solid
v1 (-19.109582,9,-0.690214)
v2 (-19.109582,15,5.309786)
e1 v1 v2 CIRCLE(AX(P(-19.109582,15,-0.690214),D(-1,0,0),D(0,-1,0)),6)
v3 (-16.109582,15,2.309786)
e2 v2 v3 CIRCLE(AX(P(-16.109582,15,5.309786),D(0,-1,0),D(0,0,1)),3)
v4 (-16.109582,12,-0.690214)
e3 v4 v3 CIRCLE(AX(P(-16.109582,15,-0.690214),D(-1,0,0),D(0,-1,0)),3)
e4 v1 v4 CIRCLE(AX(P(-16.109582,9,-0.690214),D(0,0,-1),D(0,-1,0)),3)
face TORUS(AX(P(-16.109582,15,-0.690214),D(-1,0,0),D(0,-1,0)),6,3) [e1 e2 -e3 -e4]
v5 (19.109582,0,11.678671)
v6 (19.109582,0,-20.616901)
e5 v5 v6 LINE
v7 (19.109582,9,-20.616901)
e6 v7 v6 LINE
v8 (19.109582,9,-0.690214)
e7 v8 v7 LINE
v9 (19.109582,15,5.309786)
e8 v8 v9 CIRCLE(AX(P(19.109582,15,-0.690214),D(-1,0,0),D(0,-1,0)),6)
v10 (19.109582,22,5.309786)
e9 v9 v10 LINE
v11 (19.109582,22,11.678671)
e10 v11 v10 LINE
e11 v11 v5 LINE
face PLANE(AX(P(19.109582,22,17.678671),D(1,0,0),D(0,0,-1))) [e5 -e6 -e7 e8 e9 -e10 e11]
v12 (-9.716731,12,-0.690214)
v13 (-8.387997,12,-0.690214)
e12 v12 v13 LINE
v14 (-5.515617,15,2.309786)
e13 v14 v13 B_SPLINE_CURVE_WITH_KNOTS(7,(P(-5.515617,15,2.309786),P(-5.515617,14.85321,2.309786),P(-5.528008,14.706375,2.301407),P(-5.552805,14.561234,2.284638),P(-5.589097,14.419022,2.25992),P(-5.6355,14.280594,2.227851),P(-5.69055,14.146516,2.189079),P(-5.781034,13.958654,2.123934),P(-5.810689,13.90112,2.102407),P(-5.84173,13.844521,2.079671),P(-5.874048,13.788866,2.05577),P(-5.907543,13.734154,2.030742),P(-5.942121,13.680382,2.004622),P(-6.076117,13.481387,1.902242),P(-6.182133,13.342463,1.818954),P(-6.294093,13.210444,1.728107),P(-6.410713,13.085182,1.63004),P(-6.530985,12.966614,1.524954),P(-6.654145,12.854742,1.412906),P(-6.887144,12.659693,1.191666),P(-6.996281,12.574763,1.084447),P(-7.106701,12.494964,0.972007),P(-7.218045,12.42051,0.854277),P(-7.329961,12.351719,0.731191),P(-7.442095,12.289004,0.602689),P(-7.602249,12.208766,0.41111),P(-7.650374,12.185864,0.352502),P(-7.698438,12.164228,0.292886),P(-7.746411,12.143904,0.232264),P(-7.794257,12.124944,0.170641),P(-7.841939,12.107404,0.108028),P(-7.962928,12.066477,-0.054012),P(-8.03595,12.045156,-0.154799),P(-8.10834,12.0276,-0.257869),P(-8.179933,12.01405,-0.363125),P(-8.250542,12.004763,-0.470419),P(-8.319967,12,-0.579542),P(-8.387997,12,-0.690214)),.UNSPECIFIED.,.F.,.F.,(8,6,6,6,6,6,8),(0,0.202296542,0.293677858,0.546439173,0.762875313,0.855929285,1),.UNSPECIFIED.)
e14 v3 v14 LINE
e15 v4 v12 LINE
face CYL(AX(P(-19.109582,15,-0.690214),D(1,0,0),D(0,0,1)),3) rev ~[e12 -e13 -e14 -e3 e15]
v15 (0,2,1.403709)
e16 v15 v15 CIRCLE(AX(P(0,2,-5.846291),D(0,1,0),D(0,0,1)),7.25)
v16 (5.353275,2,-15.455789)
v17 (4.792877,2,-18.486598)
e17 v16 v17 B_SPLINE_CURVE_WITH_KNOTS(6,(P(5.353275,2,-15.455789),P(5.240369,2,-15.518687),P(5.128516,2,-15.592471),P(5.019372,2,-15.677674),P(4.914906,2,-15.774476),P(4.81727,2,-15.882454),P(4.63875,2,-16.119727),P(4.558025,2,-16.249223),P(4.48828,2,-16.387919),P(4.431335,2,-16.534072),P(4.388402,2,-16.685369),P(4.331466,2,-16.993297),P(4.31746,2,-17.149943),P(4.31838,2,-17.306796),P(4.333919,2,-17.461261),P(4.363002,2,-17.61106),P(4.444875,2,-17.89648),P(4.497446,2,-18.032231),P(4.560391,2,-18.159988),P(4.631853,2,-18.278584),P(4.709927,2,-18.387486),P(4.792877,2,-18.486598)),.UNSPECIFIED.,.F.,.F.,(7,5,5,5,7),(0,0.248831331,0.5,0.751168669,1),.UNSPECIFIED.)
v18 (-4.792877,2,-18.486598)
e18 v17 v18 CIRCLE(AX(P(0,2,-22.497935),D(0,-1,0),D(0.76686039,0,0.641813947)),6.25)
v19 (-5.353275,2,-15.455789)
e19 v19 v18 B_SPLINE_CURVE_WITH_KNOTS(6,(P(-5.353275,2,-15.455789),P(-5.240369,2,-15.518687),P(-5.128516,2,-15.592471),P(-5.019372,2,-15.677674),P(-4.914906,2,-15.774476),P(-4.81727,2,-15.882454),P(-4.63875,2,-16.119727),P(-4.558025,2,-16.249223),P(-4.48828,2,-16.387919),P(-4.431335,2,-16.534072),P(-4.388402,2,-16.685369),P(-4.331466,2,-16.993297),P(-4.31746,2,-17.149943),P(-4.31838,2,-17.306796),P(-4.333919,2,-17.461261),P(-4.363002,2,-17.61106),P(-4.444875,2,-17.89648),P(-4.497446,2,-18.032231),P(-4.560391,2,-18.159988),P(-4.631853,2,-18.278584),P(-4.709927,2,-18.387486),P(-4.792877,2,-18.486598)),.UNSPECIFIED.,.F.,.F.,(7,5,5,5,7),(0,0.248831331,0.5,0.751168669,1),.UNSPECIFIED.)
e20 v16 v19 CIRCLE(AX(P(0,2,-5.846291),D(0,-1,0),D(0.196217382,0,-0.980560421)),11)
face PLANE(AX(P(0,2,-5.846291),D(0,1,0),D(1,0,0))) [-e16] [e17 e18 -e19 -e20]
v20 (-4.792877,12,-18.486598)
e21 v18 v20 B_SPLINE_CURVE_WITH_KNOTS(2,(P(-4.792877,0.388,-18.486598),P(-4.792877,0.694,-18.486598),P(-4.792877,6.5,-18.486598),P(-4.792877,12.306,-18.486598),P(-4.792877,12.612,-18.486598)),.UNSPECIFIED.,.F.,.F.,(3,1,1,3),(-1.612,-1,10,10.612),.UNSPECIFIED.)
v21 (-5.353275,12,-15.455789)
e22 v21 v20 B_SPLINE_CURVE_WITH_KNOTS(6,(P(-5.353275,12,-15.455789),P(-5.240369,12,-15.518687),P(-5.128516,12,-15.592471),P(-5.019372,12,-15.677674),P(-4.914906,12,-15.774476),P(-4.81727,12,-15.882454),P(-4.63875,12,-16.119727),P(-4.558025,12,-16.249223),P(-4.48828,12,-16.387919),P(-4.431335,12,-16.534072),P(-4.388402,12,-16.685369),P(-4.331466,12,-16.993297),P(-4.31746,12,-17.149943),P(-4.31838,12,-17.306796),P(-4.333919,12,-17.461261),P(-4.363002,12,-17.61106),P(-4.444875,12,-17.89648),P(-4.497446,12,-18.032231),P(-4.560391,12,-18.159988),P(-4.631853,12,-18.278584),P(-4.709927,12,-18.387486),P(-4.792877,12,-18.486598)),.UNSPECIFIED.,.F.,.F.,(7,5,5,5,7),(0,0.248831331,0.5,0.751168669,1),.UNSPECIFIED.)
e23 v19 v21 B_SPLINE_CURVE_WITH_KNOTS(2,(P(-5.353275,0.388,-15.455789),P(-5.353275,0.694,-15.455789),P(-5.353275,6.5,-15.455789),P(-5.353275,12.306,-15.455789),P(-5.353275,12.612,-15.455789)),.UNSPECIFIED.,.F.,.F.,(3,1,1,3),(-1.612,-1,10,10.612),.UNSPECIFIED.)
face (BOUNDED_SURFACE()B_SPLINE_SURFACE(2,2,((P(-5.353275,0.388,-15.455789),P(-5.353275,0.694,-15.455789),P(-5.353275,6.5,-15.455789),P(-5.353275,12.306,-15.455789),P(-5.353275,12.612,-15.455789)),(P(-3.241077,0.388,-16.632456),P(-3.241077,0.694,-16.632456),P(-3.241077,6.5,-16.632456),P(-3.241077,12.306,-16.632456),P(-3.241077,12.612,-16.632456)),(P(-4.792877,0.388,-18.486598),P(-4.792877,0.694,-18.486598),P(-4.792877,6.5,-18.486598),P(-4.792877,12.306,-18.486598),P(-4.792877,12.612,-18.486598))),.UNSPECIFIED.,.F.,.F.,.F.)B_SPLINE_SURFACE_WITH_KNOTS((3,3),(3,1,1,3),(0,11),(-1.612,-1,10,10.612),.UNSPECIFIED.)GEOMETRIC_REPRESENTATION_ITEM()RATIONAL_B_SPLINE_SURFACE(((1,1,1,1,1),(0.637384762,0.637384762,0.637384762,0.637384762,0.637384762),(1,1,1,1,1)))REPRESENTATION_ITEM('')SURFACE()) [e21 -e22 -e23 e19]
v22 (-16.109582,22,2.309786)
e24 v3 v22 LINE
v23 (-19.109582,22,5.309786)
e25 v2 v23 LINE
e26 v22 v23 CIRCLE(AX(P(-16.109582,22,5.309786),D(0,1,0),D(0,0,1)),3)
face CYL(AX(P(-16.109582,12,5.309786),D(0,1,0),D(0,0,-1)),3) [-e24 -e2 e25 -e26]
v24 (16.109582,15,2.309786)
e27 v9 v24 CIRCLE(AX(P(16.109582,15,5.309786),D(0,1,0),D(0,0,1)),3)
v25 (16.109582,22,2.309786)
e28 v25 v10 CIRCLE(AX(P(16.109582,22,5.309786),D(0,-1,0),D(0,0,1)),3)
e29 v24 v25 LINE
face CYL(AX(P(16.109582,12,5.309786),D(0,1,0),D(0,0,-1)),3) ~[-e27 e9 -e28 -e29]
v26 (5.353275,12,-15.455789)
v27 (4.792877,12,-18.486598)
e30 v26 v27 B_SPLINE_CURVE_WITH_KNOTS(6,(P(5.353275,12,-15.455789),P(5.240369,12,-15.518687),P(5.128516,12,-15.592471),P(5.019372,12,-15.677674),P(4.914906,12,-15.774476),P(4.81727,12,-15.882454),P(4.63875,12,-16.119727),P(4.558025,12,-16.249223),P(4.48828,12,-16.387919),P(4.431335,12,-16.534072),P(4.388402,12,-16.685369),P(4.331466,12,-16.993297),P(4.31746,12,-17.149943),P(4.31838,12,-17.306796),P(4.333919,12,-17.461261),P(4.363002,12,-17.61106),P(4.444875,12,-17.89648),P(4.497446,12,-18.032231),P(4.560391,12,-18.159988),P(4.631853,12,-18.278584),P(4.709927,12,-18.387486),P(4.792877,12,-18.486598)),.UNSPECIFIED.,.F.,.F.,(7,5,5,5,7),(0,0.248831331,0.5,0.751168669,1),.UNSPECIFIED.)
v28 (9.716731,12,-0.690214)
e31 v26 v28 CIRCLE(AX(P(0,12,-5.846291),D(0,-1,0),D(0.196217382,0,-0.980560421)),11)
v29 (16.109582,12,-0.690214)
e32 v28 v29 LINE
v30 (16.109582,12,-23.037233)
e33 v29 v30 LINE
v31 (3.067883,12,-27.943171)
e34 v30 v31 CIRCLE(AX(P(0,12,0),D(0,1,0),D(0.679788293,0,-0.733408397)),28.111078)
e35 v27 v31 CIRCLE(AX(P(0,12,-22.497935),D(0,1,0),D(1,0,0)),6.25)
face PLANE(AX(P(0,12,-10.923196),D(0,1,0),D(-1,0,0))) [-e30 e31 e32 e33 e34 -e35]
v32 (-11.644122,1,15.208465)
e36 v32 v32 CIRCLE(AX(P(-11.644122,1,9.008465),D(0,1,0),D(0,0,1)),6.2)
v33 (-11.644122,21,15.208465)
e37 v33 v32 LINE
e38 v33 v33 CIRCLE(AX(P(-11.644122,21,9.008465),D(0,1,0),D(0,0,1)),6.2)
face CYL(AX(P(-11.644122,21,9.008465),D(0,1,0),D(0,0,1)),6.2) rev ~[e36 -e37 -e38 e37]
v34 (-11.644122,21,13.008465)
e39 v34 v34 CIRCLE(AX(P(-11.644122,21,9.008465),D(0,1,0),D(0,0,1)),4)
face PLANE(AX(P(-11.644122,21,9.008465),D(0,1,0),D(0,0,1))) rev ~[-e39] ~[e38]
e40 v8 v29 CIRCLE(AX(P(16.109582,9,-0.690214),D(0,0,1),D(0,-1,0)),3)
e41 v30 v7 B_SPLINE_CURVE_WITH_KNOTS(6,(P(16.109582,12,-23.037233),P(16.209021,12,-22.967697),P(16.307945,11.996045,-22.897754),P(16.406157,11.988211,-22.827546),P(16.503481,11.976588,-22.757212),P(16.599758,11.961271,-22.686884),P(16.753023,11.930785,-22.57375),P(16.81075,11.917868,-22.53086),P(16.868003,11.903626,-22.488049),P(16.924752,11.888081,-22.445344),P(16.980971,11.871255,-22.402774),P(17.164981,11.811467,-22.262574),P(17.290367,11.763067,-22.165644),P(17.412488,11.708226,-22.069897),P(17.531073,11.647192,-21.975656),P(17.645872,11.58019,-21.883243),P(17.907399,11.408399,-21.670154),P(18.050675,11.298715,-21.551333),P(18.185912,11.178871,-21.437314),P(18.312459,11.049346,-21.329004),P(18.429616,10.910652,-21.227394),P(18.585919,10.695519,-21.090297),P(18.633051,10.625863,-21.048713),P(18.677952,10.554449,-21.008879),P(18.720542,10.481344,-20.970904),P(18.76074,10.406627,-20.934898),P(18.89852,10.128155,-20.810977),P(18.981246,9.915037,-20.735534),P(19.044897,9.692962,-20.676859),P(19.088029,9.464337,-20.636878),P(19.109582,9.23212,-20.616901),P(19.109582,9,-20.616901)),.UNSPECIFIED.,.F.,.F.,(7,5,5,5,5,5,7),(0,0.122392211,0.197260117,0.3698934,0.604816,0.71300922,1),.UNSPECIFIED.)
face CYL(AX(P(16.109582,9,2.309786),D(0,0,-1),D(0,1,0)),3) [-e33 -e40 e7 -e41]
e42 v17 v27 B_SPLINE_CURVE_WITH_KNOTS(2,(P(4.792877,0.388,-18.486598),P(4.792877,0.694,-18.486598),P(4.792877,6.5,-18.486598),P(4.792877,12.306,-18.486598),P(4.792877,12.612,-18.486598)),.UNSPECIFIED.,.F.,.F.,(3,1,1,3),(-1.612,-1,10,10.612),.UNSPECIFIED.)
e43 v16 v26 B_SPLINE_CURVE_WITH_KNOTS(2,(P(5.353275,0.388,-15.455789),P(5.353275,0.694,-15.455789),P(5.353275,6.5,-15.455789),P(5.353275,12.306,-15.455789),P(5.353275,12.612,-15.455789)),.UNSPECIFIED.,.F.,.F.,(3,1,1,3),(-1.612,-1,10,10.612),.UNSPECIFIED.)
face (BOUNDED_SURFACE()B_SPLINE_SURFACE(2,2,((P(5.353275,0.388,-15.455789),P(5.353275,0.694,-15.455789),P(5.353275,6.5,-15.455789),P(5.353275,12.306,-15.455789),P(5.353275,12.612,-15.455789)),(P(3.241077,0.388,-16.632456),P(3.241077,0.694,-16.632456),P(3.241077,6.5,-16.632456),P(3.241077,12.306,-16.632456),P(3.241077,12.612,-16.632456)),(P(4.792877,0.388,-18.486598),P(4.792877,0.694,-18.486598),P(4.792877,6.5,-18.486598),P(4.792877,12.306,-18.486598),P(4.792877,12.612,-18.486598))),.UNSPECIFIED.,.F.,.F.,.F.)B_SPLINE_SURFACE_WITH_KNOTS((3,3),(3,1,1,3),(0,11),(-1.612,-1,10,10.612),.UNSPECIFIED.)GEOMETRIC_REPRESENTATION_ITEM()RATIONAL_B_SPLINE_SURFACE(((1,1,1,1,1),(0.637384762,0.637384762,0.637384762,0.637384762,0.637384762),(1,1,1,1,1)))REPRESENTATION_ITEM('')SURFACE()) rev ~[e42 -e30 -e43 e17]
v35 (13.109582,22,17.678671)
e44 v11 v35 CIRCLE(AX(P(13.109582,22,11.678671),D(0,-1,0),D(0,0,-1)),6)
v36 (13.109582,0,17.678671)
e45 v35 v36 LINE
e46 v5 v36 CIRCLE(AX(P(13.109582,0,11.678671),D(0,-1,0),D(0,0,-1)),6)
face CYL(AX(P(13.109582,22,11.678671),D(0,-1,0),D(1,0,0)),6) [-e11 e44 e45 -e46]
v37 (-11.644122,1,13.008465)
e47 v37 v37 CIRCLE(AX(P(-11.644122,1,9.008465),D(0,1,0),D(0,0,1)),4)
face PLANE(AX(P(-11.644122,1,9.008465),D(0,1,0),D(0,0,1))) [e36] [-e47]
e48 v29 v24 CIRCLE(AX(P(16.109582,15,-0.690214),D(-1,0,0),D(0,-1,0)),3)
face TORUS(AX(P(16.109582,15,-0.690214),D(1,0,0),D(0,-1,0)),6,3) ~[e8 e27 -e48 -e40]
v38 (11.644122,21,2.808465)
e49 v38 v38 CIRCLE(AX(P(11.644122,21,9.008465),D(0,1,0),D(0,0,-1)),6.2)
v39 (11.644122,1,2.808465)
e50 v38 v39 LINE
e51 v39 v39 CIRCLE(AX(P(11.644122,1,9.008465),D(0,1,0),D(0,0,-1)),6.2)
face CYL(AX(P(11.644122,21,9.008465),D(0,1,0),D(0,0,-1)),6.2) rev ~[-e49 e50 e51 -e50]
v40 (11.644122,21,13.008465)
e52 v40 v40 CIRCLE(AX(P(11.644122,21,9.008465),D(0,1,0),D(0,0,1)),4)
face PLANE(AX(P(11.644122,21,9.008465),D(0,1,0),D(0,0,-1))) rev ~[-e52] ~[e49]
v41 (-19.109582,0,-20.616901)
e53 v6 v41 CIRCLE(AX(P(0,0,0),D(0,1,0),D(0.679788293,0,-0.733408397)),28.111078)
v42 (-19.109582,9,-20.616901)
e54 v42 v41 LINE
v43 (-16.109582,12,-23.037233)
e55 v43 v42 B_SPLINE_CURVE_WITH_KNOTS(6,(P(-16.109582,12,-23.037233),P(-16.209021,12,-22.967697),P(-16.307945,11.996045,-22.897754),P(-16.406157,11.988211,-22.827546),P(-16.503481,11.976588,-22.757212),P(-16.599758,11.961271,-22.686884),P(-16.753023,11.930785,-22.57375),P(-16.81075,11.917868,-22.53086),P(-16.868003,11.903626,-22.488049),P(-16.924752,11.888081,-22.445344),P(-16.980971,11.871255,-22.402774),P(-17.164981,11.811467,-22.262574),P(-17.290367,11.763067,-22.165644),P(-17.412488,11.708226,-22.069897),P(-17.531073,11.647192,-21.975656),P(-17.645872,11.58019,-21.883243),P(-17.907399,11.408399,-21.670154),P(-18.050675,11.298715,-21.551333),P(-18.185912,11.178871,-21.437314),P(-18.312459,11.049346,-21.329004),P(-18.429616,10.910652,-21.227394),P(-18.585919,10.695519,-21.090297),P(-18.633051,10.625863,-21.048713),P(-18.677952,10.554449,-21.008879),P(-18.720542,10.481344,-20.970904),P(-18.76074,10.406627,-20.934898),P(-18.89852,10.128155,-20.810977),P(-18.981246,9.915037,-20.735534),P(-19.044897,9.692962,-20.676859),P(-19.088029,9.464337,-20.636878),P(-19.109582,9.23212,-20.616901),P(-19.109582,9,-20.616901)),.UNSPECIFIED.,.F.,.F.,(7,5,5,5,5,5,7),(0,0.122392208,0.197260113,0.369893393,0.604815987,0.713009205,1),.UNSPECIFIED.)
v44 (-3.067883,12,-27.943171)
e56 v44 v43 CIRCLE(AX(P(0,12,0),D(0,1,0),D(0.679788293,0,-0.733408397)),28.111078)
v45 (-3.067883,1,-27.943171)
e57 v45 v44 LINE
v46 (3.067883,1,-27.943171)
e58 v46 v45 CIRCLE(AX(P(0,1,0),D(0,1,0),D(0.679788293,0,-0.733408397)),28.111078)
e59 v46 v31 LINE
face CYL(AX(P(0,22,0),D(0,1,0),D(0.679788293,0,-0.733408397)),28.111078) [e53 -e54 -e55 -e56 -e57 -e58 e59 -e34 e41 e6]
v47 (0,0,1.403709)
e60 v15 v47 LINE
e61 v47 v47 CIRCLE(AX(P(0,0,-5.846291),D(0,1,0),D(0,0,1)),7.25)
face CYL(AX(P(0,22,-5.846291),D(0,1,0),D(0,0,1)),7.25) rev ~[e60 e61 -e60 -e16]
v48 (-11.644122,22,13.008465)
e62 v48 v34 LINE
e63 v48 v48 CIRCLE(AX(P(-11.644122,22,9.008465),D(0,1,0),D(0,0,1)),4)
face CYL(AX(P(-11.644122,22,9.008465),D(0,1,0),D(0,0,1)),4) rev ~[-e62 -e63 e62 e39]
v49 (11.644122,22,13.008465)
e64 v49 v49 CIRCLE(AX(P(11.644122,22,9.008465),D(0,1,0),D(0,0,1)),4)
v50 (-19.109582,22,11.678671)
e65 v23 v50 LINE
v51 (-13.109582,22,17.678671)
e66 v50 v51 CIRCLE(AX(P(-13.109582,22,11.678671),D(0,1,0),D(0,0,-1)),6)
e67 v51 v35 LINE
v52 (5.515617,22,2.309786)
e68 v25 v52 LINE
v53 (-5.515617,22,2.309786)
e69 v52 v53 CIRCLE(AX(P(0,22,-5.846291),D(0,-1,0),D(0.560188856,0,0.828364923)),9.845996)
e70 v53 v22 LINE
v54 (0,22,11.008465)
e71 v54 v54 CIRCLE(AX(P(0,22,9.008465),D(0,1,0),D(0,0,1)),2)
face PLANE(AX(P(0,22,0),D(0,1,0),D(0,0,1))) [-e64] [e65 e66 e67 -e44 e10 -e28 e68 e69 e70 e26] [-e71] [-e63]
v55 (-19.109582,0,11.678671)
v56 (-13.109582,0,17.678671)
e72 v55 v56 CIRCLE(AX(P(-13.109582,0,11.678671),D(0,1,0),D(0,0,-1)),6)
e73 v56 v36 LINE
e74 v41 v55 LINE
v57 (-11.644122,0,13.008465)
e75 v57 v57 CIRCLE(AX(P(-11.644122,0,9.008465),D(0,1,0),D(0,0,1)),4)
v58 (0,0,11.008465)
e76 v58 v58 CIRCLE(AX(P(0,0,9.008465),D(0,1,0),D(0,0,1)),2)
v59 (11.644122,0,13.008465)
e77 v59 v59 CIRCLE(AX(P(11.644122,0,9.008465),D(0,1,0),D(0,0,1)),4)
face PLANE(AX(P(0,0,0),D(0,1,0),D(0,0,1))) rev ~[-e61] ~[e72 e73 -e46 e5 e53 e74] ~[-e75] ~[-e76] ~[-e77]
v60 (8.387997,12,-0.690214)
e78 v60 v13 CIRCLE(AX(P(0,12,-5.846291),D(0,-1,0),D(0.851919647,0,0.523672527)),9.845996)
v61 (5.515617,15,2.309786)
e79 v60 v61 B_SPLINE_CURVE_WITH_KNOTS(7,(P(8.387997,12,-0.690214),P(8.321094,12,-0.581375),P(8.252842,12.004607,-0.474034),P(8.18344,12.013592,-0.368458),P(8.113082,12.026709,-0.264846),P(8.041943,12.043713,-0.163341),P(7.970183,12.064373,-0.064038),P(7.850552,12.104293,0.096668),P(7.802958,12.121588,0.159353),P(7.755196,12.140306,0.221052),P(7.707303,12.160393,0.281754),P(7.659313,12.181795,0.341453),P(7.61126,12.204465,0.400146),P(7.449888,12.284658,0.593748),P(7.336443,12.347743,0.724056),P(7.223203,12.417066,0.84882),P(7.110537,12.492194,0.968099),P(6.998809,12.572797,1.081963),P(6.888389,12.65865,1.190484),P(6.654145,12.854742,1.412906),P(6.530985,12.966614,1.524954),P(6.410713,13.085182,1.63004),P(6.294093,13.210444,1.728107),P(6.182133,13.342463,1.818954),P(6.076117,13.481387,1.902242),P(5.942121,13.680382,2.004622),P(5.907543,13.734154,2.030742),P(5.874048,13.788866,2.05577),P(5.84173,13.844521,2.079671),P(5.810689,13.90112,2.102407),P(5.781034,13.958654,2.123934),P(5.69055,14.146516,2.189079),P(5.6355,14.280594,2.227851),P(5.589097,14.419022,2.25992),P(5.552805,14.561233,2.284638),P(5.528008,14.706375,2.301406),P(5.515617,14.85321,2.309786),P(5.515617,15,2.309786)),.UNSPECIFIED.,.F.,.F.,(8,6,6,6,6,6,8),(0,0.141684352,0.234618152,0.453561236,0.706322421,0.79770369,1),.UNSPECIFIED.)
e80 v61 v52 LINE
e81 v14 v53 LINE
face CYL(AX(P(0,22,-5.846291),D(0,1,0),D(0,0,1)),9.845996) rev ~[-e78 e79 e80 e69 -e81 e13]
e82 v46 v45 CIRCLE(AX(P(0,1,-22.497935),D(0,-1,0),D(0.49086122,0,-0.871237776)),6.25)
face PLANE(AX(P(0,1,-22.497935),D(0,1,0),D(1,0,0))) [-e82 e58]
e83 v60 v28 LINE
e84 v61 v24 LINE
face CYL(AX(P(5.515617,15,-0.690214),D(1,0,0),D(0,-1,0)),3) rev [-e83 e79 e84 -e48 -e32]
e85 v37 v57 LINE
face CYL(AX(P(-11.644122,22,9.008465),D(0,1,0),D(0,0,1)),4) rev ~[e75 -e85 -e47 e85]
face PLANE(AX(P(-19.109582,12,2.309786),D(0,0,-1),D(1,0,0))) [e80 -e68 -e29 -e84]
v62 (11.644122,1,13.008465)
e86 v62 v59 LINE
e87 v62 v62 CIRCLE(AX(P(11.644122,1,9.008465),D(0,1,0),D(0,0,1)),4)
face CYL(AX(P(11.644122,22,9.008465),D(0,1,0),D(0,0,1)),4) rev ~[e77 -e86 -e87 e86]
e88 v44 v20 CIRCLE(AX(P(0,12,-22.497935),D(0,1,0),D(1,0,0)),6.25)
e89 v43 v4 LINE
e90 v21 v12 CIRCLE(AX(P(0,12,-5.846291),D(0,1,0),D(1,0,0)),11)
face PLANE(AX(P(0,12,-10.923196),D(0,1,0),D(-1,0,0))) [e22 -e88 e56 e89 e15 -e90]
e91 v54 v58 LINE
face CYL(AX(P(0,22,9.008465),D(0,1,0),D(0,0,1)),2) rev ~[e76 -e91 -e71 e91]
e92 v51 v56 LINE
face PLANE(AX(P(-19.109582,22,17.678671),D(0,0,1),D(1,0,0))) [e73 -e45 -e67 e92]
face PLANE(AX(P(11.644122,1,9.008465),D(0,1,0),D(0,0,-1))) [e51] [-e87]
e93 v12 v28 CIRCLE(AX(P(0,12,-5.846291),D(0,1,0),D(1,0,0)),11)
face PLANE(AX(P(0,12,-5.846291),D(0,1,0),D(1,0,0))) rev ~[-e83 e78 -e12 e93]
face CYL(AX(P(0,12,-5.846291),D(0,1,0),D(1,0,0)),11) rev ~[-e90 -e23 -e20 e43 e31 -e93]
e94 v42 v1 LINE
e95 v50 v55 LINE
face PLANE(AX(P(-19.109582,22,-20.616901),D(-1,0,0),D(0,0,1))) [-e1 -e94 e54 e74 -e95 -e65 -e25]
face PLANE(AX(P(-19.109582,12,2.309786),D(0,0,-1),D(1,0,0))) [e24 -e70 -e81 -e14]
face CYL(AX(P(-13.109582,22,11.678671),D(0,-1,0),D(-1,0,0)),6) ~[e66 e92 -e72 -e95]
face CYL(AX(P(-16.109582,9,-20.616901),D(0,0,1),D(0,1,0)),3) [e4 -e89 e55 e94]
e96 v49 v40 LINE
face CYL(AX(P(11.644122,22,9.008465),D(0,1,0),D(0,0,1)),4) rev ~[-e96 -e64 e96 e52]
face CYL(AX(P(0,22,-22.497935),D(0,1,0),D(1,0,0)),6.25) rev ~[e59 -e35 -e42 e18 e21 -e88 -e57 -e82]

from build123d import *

# Parameters (mm, degrees)
SKETCH1_R           = 34.445
BOSS_EXTRUDE1_DEPTH = 22
SKETCH15_R          = 34.445
CUT_EXTRUDE2_DEPTH  = 54.450126754
CUT_EXTRUDE4_START  = -1
SKETCH17_R          = 6.2
CUT_EXTRUDE4_DEPTH  = 20
SKETCH18_R          = 7.25
CUT_EXTRUDE5_DEPTH  = 41.489614217
SKETCH19_R          = 6.25
CUT_EXTRUDE7_DEPTH  = 21
SKETCH20_R          = 9.845995641
CUT_EXTRUDE9_DEPTH  = 10
FILLET12_R          = 6
SKETCH23_R          = 4
SKETCH23_R_2        = 2
CUT_EXTRUDE10_DEPTH = 41.489614217
CUT_EXTRUDE11_START = -12
CUT_EXTRUDE11_DEPTH = 29.489614217
FILLET19_R          = 3
SKETCH25_R          = 11
CUT_EXTRUDE12_DEPTH = 10
FILLET20_R          = 2


with BuildPart() as part:
    # Sketch1 → Boss-Extrude1 (new body)
    with BuildSketch(Plane(origin=(0, 0, 0), x_dir=(1, 0, 0), z_dir=(0, 1, 0))):
        with Locations(Location((0, 0, 0), (0, 0, 270))):
            Circle(SKETCH1_R)
    extrude(amount=BOSS_EXTRUDE1_DEPTH)

    # Sketch15 → Cut-Extrude2 (cut, through all)
    with BuildSketch(Plane(origin=(0, 22, 0), x_dir=(1, 0, 0), z_dir=(0, 1, 0))):
        Circle(SKETCH15_R)
        with BuildLine():
            Line((-19.109582045, 20.616901016), (-19.109582045, -17.678671312))
            Line((-19.109582045, -17.678671312), (19.109582045, -17.678671312))
            Line((19.109582045, -17.678671312), (19.109582045, 20.616901016))
            ThreePointArc((19.109582045, 20.616901016), (0, 28.111078483), (-19.109582045, 20.616901016))
        make_face(mode=Mode.SUBTRACT)
    extrude(amount=-CUT_EXTRUDE2_DEPTH, mode=Mode.SUBTRACT)

    # Sketch17 → Cut-Extrude4 (cut)
    with BuildSketch(Plane(origin=(0, 22, 0), x_dir=(1, 0, 0), z_dir=(0, 1, 0)).offset(CUT_EXTRUDE4_START)):
        with Locations(Location((-11.644122412, -9.008465082, 0), (0, 0, 270))):
            Circle(SKETCH17_R)
        with Locations(Location((11.644122412, -9.008465082, 0), (0, 0, 90))):
            Circle(SKETCH17_R)
    extrude(amount=-CUT_EXTRUDE4_DEPTH, mode=Mode.SUBTRACT)

    # Sketch18 → Cut-Extrude5 (cut, through all)
    with BuildSketch(Plane(origin=(0, 22, 0), x_dir=(1, 0, 0), z_dir=(0, 1, 0))):
        with Locations(Location((0, 5.846291401, 0), (0, 0, 270))):
            Circle(SKETCH18_R)
    extrude(amount=-CUT_EXTRUDE5_DEPTH, mode=Mode.SUBTRACT)

    # Sketch19 → Cut-Extrude7 (cut)
    with BuildSketch(Plane(origin=(0, 22, 0), x_dir=(1, 0, 0), z_dir=(0, 1, 0))):
        with Locations((0, 22.497935332)):
            Circle(SKETCH19_R)
    extrude(amount=-CUT_EXTRUDE7_DEPTH, mode=Mode.SUBTRACT)

    # Sketch20 → Cut-Extrude9 (cut)
    with BuildSketch(Plane(origin=(0, 22, 0), x_dir=(1, 0, 0), z_dir=(0, 1, 0))):
        with Locations(Location((0, 5.846291401, 0), (0, 0, 270))):
            Circle(SKETCH20_R)
    extrude(amount=-CUT_EXTRUDE9_DEPTH, mode=Mode.SUBTRACT)

    # Fillet12
    fillet12_edges = [part.edges().sort_by_distance(p)[0] for p in [
        (-19.109582045, 11, 17.678671312),
        (19.109582045, 11, 17.678671312),
    ]]
    fillet(fillet12_edges, radius=FILLET12_R)

    # Sketch23 → Cut-Extrude10 (cut, through all)
    with BuildSketch(Plane(origin=(0, 22, 0), x_dir=(1, 0, 0), z_dir=(0, 1, 0))):
        with Locations(Location((-11.644122412, -9.008465082, 0), (0, 0, 270))):
            Circle(SKETCH23_R)
        with Locations(Location((11.644122412, -9.008465082, 0), (0, 0, 270))):
            Circle(SKETCH23_R)
        with Locations(Location((0, -9.008465082, 0), (0, 0, 270))):
            Circle(SKETCH23_R_2)
    extrude(amount=-CUT_EXTRUDE10_DEPTH, mode=Mode.SUBTRACT)

    # Sketch24 → Cut-Extrude11 (cut, through all)
    with BuildSketch(Plane.XZ.offset(CUT_EXTRUDE11_START)):
        with BuildLine():
            Line((-19.109582045, -20.616901016), (-19.109582045, 2.30978602))
            Line((-19.109582045, 2.30978602), (19.109582045, 2.30978602))
            Line((19.109582045, 2.30978602), (19.109582045, -20.616901016))
            ThreePointArc((19.109582045, -20.616901016), (0, -28.111078483), (-19.109582045, -20.616901016))
        make_face()
    extrude(amount=-CUT_EXTRUDE11_DEPTH, mode=Mode.SUBTRACT)

    # Fillet19
    fillet19_edges = [part.edges().sort_by_distance(p)[0] for p in [
        (-19.109582045, 17, 2.30978602),
        (12.31259954, 12, 2.30978602),
        (-12.31259954, 12, 2.30978602),
        (-19.109582045, 12, -9.153557498),
        (19.109582045, 12, -9.153557498),
        (19.109582045, 17, 2.30978602),
    ]]
    fillet(fillet19_edges, radius=FILLET19_R)

    # Sketch25 → Cut-Extrude12 (cut)
    with BuildSketch(Plane(origin=(0, 12, 0), x_dir=(1, 0, 0), z_dir=(0, 1, 0))):
        with Locations((0, 5.846291401)):
            Circle(SKETCH25_R)
    extrude(amount=-CUT_EXTRUDE12_DEPTH, mode=Mode.SUBTRACT)

    # Fillet20
    fillet20_edges = [part.edges().sort_by_distance(p)[0] for p in [
        (2.158391198, 7, -16.632456031),
        (-2.158391198, 7, -16.632456031),
    ]]
    fillet(fillet20_edges, radius=FILLET20_R)


solid = part.part
